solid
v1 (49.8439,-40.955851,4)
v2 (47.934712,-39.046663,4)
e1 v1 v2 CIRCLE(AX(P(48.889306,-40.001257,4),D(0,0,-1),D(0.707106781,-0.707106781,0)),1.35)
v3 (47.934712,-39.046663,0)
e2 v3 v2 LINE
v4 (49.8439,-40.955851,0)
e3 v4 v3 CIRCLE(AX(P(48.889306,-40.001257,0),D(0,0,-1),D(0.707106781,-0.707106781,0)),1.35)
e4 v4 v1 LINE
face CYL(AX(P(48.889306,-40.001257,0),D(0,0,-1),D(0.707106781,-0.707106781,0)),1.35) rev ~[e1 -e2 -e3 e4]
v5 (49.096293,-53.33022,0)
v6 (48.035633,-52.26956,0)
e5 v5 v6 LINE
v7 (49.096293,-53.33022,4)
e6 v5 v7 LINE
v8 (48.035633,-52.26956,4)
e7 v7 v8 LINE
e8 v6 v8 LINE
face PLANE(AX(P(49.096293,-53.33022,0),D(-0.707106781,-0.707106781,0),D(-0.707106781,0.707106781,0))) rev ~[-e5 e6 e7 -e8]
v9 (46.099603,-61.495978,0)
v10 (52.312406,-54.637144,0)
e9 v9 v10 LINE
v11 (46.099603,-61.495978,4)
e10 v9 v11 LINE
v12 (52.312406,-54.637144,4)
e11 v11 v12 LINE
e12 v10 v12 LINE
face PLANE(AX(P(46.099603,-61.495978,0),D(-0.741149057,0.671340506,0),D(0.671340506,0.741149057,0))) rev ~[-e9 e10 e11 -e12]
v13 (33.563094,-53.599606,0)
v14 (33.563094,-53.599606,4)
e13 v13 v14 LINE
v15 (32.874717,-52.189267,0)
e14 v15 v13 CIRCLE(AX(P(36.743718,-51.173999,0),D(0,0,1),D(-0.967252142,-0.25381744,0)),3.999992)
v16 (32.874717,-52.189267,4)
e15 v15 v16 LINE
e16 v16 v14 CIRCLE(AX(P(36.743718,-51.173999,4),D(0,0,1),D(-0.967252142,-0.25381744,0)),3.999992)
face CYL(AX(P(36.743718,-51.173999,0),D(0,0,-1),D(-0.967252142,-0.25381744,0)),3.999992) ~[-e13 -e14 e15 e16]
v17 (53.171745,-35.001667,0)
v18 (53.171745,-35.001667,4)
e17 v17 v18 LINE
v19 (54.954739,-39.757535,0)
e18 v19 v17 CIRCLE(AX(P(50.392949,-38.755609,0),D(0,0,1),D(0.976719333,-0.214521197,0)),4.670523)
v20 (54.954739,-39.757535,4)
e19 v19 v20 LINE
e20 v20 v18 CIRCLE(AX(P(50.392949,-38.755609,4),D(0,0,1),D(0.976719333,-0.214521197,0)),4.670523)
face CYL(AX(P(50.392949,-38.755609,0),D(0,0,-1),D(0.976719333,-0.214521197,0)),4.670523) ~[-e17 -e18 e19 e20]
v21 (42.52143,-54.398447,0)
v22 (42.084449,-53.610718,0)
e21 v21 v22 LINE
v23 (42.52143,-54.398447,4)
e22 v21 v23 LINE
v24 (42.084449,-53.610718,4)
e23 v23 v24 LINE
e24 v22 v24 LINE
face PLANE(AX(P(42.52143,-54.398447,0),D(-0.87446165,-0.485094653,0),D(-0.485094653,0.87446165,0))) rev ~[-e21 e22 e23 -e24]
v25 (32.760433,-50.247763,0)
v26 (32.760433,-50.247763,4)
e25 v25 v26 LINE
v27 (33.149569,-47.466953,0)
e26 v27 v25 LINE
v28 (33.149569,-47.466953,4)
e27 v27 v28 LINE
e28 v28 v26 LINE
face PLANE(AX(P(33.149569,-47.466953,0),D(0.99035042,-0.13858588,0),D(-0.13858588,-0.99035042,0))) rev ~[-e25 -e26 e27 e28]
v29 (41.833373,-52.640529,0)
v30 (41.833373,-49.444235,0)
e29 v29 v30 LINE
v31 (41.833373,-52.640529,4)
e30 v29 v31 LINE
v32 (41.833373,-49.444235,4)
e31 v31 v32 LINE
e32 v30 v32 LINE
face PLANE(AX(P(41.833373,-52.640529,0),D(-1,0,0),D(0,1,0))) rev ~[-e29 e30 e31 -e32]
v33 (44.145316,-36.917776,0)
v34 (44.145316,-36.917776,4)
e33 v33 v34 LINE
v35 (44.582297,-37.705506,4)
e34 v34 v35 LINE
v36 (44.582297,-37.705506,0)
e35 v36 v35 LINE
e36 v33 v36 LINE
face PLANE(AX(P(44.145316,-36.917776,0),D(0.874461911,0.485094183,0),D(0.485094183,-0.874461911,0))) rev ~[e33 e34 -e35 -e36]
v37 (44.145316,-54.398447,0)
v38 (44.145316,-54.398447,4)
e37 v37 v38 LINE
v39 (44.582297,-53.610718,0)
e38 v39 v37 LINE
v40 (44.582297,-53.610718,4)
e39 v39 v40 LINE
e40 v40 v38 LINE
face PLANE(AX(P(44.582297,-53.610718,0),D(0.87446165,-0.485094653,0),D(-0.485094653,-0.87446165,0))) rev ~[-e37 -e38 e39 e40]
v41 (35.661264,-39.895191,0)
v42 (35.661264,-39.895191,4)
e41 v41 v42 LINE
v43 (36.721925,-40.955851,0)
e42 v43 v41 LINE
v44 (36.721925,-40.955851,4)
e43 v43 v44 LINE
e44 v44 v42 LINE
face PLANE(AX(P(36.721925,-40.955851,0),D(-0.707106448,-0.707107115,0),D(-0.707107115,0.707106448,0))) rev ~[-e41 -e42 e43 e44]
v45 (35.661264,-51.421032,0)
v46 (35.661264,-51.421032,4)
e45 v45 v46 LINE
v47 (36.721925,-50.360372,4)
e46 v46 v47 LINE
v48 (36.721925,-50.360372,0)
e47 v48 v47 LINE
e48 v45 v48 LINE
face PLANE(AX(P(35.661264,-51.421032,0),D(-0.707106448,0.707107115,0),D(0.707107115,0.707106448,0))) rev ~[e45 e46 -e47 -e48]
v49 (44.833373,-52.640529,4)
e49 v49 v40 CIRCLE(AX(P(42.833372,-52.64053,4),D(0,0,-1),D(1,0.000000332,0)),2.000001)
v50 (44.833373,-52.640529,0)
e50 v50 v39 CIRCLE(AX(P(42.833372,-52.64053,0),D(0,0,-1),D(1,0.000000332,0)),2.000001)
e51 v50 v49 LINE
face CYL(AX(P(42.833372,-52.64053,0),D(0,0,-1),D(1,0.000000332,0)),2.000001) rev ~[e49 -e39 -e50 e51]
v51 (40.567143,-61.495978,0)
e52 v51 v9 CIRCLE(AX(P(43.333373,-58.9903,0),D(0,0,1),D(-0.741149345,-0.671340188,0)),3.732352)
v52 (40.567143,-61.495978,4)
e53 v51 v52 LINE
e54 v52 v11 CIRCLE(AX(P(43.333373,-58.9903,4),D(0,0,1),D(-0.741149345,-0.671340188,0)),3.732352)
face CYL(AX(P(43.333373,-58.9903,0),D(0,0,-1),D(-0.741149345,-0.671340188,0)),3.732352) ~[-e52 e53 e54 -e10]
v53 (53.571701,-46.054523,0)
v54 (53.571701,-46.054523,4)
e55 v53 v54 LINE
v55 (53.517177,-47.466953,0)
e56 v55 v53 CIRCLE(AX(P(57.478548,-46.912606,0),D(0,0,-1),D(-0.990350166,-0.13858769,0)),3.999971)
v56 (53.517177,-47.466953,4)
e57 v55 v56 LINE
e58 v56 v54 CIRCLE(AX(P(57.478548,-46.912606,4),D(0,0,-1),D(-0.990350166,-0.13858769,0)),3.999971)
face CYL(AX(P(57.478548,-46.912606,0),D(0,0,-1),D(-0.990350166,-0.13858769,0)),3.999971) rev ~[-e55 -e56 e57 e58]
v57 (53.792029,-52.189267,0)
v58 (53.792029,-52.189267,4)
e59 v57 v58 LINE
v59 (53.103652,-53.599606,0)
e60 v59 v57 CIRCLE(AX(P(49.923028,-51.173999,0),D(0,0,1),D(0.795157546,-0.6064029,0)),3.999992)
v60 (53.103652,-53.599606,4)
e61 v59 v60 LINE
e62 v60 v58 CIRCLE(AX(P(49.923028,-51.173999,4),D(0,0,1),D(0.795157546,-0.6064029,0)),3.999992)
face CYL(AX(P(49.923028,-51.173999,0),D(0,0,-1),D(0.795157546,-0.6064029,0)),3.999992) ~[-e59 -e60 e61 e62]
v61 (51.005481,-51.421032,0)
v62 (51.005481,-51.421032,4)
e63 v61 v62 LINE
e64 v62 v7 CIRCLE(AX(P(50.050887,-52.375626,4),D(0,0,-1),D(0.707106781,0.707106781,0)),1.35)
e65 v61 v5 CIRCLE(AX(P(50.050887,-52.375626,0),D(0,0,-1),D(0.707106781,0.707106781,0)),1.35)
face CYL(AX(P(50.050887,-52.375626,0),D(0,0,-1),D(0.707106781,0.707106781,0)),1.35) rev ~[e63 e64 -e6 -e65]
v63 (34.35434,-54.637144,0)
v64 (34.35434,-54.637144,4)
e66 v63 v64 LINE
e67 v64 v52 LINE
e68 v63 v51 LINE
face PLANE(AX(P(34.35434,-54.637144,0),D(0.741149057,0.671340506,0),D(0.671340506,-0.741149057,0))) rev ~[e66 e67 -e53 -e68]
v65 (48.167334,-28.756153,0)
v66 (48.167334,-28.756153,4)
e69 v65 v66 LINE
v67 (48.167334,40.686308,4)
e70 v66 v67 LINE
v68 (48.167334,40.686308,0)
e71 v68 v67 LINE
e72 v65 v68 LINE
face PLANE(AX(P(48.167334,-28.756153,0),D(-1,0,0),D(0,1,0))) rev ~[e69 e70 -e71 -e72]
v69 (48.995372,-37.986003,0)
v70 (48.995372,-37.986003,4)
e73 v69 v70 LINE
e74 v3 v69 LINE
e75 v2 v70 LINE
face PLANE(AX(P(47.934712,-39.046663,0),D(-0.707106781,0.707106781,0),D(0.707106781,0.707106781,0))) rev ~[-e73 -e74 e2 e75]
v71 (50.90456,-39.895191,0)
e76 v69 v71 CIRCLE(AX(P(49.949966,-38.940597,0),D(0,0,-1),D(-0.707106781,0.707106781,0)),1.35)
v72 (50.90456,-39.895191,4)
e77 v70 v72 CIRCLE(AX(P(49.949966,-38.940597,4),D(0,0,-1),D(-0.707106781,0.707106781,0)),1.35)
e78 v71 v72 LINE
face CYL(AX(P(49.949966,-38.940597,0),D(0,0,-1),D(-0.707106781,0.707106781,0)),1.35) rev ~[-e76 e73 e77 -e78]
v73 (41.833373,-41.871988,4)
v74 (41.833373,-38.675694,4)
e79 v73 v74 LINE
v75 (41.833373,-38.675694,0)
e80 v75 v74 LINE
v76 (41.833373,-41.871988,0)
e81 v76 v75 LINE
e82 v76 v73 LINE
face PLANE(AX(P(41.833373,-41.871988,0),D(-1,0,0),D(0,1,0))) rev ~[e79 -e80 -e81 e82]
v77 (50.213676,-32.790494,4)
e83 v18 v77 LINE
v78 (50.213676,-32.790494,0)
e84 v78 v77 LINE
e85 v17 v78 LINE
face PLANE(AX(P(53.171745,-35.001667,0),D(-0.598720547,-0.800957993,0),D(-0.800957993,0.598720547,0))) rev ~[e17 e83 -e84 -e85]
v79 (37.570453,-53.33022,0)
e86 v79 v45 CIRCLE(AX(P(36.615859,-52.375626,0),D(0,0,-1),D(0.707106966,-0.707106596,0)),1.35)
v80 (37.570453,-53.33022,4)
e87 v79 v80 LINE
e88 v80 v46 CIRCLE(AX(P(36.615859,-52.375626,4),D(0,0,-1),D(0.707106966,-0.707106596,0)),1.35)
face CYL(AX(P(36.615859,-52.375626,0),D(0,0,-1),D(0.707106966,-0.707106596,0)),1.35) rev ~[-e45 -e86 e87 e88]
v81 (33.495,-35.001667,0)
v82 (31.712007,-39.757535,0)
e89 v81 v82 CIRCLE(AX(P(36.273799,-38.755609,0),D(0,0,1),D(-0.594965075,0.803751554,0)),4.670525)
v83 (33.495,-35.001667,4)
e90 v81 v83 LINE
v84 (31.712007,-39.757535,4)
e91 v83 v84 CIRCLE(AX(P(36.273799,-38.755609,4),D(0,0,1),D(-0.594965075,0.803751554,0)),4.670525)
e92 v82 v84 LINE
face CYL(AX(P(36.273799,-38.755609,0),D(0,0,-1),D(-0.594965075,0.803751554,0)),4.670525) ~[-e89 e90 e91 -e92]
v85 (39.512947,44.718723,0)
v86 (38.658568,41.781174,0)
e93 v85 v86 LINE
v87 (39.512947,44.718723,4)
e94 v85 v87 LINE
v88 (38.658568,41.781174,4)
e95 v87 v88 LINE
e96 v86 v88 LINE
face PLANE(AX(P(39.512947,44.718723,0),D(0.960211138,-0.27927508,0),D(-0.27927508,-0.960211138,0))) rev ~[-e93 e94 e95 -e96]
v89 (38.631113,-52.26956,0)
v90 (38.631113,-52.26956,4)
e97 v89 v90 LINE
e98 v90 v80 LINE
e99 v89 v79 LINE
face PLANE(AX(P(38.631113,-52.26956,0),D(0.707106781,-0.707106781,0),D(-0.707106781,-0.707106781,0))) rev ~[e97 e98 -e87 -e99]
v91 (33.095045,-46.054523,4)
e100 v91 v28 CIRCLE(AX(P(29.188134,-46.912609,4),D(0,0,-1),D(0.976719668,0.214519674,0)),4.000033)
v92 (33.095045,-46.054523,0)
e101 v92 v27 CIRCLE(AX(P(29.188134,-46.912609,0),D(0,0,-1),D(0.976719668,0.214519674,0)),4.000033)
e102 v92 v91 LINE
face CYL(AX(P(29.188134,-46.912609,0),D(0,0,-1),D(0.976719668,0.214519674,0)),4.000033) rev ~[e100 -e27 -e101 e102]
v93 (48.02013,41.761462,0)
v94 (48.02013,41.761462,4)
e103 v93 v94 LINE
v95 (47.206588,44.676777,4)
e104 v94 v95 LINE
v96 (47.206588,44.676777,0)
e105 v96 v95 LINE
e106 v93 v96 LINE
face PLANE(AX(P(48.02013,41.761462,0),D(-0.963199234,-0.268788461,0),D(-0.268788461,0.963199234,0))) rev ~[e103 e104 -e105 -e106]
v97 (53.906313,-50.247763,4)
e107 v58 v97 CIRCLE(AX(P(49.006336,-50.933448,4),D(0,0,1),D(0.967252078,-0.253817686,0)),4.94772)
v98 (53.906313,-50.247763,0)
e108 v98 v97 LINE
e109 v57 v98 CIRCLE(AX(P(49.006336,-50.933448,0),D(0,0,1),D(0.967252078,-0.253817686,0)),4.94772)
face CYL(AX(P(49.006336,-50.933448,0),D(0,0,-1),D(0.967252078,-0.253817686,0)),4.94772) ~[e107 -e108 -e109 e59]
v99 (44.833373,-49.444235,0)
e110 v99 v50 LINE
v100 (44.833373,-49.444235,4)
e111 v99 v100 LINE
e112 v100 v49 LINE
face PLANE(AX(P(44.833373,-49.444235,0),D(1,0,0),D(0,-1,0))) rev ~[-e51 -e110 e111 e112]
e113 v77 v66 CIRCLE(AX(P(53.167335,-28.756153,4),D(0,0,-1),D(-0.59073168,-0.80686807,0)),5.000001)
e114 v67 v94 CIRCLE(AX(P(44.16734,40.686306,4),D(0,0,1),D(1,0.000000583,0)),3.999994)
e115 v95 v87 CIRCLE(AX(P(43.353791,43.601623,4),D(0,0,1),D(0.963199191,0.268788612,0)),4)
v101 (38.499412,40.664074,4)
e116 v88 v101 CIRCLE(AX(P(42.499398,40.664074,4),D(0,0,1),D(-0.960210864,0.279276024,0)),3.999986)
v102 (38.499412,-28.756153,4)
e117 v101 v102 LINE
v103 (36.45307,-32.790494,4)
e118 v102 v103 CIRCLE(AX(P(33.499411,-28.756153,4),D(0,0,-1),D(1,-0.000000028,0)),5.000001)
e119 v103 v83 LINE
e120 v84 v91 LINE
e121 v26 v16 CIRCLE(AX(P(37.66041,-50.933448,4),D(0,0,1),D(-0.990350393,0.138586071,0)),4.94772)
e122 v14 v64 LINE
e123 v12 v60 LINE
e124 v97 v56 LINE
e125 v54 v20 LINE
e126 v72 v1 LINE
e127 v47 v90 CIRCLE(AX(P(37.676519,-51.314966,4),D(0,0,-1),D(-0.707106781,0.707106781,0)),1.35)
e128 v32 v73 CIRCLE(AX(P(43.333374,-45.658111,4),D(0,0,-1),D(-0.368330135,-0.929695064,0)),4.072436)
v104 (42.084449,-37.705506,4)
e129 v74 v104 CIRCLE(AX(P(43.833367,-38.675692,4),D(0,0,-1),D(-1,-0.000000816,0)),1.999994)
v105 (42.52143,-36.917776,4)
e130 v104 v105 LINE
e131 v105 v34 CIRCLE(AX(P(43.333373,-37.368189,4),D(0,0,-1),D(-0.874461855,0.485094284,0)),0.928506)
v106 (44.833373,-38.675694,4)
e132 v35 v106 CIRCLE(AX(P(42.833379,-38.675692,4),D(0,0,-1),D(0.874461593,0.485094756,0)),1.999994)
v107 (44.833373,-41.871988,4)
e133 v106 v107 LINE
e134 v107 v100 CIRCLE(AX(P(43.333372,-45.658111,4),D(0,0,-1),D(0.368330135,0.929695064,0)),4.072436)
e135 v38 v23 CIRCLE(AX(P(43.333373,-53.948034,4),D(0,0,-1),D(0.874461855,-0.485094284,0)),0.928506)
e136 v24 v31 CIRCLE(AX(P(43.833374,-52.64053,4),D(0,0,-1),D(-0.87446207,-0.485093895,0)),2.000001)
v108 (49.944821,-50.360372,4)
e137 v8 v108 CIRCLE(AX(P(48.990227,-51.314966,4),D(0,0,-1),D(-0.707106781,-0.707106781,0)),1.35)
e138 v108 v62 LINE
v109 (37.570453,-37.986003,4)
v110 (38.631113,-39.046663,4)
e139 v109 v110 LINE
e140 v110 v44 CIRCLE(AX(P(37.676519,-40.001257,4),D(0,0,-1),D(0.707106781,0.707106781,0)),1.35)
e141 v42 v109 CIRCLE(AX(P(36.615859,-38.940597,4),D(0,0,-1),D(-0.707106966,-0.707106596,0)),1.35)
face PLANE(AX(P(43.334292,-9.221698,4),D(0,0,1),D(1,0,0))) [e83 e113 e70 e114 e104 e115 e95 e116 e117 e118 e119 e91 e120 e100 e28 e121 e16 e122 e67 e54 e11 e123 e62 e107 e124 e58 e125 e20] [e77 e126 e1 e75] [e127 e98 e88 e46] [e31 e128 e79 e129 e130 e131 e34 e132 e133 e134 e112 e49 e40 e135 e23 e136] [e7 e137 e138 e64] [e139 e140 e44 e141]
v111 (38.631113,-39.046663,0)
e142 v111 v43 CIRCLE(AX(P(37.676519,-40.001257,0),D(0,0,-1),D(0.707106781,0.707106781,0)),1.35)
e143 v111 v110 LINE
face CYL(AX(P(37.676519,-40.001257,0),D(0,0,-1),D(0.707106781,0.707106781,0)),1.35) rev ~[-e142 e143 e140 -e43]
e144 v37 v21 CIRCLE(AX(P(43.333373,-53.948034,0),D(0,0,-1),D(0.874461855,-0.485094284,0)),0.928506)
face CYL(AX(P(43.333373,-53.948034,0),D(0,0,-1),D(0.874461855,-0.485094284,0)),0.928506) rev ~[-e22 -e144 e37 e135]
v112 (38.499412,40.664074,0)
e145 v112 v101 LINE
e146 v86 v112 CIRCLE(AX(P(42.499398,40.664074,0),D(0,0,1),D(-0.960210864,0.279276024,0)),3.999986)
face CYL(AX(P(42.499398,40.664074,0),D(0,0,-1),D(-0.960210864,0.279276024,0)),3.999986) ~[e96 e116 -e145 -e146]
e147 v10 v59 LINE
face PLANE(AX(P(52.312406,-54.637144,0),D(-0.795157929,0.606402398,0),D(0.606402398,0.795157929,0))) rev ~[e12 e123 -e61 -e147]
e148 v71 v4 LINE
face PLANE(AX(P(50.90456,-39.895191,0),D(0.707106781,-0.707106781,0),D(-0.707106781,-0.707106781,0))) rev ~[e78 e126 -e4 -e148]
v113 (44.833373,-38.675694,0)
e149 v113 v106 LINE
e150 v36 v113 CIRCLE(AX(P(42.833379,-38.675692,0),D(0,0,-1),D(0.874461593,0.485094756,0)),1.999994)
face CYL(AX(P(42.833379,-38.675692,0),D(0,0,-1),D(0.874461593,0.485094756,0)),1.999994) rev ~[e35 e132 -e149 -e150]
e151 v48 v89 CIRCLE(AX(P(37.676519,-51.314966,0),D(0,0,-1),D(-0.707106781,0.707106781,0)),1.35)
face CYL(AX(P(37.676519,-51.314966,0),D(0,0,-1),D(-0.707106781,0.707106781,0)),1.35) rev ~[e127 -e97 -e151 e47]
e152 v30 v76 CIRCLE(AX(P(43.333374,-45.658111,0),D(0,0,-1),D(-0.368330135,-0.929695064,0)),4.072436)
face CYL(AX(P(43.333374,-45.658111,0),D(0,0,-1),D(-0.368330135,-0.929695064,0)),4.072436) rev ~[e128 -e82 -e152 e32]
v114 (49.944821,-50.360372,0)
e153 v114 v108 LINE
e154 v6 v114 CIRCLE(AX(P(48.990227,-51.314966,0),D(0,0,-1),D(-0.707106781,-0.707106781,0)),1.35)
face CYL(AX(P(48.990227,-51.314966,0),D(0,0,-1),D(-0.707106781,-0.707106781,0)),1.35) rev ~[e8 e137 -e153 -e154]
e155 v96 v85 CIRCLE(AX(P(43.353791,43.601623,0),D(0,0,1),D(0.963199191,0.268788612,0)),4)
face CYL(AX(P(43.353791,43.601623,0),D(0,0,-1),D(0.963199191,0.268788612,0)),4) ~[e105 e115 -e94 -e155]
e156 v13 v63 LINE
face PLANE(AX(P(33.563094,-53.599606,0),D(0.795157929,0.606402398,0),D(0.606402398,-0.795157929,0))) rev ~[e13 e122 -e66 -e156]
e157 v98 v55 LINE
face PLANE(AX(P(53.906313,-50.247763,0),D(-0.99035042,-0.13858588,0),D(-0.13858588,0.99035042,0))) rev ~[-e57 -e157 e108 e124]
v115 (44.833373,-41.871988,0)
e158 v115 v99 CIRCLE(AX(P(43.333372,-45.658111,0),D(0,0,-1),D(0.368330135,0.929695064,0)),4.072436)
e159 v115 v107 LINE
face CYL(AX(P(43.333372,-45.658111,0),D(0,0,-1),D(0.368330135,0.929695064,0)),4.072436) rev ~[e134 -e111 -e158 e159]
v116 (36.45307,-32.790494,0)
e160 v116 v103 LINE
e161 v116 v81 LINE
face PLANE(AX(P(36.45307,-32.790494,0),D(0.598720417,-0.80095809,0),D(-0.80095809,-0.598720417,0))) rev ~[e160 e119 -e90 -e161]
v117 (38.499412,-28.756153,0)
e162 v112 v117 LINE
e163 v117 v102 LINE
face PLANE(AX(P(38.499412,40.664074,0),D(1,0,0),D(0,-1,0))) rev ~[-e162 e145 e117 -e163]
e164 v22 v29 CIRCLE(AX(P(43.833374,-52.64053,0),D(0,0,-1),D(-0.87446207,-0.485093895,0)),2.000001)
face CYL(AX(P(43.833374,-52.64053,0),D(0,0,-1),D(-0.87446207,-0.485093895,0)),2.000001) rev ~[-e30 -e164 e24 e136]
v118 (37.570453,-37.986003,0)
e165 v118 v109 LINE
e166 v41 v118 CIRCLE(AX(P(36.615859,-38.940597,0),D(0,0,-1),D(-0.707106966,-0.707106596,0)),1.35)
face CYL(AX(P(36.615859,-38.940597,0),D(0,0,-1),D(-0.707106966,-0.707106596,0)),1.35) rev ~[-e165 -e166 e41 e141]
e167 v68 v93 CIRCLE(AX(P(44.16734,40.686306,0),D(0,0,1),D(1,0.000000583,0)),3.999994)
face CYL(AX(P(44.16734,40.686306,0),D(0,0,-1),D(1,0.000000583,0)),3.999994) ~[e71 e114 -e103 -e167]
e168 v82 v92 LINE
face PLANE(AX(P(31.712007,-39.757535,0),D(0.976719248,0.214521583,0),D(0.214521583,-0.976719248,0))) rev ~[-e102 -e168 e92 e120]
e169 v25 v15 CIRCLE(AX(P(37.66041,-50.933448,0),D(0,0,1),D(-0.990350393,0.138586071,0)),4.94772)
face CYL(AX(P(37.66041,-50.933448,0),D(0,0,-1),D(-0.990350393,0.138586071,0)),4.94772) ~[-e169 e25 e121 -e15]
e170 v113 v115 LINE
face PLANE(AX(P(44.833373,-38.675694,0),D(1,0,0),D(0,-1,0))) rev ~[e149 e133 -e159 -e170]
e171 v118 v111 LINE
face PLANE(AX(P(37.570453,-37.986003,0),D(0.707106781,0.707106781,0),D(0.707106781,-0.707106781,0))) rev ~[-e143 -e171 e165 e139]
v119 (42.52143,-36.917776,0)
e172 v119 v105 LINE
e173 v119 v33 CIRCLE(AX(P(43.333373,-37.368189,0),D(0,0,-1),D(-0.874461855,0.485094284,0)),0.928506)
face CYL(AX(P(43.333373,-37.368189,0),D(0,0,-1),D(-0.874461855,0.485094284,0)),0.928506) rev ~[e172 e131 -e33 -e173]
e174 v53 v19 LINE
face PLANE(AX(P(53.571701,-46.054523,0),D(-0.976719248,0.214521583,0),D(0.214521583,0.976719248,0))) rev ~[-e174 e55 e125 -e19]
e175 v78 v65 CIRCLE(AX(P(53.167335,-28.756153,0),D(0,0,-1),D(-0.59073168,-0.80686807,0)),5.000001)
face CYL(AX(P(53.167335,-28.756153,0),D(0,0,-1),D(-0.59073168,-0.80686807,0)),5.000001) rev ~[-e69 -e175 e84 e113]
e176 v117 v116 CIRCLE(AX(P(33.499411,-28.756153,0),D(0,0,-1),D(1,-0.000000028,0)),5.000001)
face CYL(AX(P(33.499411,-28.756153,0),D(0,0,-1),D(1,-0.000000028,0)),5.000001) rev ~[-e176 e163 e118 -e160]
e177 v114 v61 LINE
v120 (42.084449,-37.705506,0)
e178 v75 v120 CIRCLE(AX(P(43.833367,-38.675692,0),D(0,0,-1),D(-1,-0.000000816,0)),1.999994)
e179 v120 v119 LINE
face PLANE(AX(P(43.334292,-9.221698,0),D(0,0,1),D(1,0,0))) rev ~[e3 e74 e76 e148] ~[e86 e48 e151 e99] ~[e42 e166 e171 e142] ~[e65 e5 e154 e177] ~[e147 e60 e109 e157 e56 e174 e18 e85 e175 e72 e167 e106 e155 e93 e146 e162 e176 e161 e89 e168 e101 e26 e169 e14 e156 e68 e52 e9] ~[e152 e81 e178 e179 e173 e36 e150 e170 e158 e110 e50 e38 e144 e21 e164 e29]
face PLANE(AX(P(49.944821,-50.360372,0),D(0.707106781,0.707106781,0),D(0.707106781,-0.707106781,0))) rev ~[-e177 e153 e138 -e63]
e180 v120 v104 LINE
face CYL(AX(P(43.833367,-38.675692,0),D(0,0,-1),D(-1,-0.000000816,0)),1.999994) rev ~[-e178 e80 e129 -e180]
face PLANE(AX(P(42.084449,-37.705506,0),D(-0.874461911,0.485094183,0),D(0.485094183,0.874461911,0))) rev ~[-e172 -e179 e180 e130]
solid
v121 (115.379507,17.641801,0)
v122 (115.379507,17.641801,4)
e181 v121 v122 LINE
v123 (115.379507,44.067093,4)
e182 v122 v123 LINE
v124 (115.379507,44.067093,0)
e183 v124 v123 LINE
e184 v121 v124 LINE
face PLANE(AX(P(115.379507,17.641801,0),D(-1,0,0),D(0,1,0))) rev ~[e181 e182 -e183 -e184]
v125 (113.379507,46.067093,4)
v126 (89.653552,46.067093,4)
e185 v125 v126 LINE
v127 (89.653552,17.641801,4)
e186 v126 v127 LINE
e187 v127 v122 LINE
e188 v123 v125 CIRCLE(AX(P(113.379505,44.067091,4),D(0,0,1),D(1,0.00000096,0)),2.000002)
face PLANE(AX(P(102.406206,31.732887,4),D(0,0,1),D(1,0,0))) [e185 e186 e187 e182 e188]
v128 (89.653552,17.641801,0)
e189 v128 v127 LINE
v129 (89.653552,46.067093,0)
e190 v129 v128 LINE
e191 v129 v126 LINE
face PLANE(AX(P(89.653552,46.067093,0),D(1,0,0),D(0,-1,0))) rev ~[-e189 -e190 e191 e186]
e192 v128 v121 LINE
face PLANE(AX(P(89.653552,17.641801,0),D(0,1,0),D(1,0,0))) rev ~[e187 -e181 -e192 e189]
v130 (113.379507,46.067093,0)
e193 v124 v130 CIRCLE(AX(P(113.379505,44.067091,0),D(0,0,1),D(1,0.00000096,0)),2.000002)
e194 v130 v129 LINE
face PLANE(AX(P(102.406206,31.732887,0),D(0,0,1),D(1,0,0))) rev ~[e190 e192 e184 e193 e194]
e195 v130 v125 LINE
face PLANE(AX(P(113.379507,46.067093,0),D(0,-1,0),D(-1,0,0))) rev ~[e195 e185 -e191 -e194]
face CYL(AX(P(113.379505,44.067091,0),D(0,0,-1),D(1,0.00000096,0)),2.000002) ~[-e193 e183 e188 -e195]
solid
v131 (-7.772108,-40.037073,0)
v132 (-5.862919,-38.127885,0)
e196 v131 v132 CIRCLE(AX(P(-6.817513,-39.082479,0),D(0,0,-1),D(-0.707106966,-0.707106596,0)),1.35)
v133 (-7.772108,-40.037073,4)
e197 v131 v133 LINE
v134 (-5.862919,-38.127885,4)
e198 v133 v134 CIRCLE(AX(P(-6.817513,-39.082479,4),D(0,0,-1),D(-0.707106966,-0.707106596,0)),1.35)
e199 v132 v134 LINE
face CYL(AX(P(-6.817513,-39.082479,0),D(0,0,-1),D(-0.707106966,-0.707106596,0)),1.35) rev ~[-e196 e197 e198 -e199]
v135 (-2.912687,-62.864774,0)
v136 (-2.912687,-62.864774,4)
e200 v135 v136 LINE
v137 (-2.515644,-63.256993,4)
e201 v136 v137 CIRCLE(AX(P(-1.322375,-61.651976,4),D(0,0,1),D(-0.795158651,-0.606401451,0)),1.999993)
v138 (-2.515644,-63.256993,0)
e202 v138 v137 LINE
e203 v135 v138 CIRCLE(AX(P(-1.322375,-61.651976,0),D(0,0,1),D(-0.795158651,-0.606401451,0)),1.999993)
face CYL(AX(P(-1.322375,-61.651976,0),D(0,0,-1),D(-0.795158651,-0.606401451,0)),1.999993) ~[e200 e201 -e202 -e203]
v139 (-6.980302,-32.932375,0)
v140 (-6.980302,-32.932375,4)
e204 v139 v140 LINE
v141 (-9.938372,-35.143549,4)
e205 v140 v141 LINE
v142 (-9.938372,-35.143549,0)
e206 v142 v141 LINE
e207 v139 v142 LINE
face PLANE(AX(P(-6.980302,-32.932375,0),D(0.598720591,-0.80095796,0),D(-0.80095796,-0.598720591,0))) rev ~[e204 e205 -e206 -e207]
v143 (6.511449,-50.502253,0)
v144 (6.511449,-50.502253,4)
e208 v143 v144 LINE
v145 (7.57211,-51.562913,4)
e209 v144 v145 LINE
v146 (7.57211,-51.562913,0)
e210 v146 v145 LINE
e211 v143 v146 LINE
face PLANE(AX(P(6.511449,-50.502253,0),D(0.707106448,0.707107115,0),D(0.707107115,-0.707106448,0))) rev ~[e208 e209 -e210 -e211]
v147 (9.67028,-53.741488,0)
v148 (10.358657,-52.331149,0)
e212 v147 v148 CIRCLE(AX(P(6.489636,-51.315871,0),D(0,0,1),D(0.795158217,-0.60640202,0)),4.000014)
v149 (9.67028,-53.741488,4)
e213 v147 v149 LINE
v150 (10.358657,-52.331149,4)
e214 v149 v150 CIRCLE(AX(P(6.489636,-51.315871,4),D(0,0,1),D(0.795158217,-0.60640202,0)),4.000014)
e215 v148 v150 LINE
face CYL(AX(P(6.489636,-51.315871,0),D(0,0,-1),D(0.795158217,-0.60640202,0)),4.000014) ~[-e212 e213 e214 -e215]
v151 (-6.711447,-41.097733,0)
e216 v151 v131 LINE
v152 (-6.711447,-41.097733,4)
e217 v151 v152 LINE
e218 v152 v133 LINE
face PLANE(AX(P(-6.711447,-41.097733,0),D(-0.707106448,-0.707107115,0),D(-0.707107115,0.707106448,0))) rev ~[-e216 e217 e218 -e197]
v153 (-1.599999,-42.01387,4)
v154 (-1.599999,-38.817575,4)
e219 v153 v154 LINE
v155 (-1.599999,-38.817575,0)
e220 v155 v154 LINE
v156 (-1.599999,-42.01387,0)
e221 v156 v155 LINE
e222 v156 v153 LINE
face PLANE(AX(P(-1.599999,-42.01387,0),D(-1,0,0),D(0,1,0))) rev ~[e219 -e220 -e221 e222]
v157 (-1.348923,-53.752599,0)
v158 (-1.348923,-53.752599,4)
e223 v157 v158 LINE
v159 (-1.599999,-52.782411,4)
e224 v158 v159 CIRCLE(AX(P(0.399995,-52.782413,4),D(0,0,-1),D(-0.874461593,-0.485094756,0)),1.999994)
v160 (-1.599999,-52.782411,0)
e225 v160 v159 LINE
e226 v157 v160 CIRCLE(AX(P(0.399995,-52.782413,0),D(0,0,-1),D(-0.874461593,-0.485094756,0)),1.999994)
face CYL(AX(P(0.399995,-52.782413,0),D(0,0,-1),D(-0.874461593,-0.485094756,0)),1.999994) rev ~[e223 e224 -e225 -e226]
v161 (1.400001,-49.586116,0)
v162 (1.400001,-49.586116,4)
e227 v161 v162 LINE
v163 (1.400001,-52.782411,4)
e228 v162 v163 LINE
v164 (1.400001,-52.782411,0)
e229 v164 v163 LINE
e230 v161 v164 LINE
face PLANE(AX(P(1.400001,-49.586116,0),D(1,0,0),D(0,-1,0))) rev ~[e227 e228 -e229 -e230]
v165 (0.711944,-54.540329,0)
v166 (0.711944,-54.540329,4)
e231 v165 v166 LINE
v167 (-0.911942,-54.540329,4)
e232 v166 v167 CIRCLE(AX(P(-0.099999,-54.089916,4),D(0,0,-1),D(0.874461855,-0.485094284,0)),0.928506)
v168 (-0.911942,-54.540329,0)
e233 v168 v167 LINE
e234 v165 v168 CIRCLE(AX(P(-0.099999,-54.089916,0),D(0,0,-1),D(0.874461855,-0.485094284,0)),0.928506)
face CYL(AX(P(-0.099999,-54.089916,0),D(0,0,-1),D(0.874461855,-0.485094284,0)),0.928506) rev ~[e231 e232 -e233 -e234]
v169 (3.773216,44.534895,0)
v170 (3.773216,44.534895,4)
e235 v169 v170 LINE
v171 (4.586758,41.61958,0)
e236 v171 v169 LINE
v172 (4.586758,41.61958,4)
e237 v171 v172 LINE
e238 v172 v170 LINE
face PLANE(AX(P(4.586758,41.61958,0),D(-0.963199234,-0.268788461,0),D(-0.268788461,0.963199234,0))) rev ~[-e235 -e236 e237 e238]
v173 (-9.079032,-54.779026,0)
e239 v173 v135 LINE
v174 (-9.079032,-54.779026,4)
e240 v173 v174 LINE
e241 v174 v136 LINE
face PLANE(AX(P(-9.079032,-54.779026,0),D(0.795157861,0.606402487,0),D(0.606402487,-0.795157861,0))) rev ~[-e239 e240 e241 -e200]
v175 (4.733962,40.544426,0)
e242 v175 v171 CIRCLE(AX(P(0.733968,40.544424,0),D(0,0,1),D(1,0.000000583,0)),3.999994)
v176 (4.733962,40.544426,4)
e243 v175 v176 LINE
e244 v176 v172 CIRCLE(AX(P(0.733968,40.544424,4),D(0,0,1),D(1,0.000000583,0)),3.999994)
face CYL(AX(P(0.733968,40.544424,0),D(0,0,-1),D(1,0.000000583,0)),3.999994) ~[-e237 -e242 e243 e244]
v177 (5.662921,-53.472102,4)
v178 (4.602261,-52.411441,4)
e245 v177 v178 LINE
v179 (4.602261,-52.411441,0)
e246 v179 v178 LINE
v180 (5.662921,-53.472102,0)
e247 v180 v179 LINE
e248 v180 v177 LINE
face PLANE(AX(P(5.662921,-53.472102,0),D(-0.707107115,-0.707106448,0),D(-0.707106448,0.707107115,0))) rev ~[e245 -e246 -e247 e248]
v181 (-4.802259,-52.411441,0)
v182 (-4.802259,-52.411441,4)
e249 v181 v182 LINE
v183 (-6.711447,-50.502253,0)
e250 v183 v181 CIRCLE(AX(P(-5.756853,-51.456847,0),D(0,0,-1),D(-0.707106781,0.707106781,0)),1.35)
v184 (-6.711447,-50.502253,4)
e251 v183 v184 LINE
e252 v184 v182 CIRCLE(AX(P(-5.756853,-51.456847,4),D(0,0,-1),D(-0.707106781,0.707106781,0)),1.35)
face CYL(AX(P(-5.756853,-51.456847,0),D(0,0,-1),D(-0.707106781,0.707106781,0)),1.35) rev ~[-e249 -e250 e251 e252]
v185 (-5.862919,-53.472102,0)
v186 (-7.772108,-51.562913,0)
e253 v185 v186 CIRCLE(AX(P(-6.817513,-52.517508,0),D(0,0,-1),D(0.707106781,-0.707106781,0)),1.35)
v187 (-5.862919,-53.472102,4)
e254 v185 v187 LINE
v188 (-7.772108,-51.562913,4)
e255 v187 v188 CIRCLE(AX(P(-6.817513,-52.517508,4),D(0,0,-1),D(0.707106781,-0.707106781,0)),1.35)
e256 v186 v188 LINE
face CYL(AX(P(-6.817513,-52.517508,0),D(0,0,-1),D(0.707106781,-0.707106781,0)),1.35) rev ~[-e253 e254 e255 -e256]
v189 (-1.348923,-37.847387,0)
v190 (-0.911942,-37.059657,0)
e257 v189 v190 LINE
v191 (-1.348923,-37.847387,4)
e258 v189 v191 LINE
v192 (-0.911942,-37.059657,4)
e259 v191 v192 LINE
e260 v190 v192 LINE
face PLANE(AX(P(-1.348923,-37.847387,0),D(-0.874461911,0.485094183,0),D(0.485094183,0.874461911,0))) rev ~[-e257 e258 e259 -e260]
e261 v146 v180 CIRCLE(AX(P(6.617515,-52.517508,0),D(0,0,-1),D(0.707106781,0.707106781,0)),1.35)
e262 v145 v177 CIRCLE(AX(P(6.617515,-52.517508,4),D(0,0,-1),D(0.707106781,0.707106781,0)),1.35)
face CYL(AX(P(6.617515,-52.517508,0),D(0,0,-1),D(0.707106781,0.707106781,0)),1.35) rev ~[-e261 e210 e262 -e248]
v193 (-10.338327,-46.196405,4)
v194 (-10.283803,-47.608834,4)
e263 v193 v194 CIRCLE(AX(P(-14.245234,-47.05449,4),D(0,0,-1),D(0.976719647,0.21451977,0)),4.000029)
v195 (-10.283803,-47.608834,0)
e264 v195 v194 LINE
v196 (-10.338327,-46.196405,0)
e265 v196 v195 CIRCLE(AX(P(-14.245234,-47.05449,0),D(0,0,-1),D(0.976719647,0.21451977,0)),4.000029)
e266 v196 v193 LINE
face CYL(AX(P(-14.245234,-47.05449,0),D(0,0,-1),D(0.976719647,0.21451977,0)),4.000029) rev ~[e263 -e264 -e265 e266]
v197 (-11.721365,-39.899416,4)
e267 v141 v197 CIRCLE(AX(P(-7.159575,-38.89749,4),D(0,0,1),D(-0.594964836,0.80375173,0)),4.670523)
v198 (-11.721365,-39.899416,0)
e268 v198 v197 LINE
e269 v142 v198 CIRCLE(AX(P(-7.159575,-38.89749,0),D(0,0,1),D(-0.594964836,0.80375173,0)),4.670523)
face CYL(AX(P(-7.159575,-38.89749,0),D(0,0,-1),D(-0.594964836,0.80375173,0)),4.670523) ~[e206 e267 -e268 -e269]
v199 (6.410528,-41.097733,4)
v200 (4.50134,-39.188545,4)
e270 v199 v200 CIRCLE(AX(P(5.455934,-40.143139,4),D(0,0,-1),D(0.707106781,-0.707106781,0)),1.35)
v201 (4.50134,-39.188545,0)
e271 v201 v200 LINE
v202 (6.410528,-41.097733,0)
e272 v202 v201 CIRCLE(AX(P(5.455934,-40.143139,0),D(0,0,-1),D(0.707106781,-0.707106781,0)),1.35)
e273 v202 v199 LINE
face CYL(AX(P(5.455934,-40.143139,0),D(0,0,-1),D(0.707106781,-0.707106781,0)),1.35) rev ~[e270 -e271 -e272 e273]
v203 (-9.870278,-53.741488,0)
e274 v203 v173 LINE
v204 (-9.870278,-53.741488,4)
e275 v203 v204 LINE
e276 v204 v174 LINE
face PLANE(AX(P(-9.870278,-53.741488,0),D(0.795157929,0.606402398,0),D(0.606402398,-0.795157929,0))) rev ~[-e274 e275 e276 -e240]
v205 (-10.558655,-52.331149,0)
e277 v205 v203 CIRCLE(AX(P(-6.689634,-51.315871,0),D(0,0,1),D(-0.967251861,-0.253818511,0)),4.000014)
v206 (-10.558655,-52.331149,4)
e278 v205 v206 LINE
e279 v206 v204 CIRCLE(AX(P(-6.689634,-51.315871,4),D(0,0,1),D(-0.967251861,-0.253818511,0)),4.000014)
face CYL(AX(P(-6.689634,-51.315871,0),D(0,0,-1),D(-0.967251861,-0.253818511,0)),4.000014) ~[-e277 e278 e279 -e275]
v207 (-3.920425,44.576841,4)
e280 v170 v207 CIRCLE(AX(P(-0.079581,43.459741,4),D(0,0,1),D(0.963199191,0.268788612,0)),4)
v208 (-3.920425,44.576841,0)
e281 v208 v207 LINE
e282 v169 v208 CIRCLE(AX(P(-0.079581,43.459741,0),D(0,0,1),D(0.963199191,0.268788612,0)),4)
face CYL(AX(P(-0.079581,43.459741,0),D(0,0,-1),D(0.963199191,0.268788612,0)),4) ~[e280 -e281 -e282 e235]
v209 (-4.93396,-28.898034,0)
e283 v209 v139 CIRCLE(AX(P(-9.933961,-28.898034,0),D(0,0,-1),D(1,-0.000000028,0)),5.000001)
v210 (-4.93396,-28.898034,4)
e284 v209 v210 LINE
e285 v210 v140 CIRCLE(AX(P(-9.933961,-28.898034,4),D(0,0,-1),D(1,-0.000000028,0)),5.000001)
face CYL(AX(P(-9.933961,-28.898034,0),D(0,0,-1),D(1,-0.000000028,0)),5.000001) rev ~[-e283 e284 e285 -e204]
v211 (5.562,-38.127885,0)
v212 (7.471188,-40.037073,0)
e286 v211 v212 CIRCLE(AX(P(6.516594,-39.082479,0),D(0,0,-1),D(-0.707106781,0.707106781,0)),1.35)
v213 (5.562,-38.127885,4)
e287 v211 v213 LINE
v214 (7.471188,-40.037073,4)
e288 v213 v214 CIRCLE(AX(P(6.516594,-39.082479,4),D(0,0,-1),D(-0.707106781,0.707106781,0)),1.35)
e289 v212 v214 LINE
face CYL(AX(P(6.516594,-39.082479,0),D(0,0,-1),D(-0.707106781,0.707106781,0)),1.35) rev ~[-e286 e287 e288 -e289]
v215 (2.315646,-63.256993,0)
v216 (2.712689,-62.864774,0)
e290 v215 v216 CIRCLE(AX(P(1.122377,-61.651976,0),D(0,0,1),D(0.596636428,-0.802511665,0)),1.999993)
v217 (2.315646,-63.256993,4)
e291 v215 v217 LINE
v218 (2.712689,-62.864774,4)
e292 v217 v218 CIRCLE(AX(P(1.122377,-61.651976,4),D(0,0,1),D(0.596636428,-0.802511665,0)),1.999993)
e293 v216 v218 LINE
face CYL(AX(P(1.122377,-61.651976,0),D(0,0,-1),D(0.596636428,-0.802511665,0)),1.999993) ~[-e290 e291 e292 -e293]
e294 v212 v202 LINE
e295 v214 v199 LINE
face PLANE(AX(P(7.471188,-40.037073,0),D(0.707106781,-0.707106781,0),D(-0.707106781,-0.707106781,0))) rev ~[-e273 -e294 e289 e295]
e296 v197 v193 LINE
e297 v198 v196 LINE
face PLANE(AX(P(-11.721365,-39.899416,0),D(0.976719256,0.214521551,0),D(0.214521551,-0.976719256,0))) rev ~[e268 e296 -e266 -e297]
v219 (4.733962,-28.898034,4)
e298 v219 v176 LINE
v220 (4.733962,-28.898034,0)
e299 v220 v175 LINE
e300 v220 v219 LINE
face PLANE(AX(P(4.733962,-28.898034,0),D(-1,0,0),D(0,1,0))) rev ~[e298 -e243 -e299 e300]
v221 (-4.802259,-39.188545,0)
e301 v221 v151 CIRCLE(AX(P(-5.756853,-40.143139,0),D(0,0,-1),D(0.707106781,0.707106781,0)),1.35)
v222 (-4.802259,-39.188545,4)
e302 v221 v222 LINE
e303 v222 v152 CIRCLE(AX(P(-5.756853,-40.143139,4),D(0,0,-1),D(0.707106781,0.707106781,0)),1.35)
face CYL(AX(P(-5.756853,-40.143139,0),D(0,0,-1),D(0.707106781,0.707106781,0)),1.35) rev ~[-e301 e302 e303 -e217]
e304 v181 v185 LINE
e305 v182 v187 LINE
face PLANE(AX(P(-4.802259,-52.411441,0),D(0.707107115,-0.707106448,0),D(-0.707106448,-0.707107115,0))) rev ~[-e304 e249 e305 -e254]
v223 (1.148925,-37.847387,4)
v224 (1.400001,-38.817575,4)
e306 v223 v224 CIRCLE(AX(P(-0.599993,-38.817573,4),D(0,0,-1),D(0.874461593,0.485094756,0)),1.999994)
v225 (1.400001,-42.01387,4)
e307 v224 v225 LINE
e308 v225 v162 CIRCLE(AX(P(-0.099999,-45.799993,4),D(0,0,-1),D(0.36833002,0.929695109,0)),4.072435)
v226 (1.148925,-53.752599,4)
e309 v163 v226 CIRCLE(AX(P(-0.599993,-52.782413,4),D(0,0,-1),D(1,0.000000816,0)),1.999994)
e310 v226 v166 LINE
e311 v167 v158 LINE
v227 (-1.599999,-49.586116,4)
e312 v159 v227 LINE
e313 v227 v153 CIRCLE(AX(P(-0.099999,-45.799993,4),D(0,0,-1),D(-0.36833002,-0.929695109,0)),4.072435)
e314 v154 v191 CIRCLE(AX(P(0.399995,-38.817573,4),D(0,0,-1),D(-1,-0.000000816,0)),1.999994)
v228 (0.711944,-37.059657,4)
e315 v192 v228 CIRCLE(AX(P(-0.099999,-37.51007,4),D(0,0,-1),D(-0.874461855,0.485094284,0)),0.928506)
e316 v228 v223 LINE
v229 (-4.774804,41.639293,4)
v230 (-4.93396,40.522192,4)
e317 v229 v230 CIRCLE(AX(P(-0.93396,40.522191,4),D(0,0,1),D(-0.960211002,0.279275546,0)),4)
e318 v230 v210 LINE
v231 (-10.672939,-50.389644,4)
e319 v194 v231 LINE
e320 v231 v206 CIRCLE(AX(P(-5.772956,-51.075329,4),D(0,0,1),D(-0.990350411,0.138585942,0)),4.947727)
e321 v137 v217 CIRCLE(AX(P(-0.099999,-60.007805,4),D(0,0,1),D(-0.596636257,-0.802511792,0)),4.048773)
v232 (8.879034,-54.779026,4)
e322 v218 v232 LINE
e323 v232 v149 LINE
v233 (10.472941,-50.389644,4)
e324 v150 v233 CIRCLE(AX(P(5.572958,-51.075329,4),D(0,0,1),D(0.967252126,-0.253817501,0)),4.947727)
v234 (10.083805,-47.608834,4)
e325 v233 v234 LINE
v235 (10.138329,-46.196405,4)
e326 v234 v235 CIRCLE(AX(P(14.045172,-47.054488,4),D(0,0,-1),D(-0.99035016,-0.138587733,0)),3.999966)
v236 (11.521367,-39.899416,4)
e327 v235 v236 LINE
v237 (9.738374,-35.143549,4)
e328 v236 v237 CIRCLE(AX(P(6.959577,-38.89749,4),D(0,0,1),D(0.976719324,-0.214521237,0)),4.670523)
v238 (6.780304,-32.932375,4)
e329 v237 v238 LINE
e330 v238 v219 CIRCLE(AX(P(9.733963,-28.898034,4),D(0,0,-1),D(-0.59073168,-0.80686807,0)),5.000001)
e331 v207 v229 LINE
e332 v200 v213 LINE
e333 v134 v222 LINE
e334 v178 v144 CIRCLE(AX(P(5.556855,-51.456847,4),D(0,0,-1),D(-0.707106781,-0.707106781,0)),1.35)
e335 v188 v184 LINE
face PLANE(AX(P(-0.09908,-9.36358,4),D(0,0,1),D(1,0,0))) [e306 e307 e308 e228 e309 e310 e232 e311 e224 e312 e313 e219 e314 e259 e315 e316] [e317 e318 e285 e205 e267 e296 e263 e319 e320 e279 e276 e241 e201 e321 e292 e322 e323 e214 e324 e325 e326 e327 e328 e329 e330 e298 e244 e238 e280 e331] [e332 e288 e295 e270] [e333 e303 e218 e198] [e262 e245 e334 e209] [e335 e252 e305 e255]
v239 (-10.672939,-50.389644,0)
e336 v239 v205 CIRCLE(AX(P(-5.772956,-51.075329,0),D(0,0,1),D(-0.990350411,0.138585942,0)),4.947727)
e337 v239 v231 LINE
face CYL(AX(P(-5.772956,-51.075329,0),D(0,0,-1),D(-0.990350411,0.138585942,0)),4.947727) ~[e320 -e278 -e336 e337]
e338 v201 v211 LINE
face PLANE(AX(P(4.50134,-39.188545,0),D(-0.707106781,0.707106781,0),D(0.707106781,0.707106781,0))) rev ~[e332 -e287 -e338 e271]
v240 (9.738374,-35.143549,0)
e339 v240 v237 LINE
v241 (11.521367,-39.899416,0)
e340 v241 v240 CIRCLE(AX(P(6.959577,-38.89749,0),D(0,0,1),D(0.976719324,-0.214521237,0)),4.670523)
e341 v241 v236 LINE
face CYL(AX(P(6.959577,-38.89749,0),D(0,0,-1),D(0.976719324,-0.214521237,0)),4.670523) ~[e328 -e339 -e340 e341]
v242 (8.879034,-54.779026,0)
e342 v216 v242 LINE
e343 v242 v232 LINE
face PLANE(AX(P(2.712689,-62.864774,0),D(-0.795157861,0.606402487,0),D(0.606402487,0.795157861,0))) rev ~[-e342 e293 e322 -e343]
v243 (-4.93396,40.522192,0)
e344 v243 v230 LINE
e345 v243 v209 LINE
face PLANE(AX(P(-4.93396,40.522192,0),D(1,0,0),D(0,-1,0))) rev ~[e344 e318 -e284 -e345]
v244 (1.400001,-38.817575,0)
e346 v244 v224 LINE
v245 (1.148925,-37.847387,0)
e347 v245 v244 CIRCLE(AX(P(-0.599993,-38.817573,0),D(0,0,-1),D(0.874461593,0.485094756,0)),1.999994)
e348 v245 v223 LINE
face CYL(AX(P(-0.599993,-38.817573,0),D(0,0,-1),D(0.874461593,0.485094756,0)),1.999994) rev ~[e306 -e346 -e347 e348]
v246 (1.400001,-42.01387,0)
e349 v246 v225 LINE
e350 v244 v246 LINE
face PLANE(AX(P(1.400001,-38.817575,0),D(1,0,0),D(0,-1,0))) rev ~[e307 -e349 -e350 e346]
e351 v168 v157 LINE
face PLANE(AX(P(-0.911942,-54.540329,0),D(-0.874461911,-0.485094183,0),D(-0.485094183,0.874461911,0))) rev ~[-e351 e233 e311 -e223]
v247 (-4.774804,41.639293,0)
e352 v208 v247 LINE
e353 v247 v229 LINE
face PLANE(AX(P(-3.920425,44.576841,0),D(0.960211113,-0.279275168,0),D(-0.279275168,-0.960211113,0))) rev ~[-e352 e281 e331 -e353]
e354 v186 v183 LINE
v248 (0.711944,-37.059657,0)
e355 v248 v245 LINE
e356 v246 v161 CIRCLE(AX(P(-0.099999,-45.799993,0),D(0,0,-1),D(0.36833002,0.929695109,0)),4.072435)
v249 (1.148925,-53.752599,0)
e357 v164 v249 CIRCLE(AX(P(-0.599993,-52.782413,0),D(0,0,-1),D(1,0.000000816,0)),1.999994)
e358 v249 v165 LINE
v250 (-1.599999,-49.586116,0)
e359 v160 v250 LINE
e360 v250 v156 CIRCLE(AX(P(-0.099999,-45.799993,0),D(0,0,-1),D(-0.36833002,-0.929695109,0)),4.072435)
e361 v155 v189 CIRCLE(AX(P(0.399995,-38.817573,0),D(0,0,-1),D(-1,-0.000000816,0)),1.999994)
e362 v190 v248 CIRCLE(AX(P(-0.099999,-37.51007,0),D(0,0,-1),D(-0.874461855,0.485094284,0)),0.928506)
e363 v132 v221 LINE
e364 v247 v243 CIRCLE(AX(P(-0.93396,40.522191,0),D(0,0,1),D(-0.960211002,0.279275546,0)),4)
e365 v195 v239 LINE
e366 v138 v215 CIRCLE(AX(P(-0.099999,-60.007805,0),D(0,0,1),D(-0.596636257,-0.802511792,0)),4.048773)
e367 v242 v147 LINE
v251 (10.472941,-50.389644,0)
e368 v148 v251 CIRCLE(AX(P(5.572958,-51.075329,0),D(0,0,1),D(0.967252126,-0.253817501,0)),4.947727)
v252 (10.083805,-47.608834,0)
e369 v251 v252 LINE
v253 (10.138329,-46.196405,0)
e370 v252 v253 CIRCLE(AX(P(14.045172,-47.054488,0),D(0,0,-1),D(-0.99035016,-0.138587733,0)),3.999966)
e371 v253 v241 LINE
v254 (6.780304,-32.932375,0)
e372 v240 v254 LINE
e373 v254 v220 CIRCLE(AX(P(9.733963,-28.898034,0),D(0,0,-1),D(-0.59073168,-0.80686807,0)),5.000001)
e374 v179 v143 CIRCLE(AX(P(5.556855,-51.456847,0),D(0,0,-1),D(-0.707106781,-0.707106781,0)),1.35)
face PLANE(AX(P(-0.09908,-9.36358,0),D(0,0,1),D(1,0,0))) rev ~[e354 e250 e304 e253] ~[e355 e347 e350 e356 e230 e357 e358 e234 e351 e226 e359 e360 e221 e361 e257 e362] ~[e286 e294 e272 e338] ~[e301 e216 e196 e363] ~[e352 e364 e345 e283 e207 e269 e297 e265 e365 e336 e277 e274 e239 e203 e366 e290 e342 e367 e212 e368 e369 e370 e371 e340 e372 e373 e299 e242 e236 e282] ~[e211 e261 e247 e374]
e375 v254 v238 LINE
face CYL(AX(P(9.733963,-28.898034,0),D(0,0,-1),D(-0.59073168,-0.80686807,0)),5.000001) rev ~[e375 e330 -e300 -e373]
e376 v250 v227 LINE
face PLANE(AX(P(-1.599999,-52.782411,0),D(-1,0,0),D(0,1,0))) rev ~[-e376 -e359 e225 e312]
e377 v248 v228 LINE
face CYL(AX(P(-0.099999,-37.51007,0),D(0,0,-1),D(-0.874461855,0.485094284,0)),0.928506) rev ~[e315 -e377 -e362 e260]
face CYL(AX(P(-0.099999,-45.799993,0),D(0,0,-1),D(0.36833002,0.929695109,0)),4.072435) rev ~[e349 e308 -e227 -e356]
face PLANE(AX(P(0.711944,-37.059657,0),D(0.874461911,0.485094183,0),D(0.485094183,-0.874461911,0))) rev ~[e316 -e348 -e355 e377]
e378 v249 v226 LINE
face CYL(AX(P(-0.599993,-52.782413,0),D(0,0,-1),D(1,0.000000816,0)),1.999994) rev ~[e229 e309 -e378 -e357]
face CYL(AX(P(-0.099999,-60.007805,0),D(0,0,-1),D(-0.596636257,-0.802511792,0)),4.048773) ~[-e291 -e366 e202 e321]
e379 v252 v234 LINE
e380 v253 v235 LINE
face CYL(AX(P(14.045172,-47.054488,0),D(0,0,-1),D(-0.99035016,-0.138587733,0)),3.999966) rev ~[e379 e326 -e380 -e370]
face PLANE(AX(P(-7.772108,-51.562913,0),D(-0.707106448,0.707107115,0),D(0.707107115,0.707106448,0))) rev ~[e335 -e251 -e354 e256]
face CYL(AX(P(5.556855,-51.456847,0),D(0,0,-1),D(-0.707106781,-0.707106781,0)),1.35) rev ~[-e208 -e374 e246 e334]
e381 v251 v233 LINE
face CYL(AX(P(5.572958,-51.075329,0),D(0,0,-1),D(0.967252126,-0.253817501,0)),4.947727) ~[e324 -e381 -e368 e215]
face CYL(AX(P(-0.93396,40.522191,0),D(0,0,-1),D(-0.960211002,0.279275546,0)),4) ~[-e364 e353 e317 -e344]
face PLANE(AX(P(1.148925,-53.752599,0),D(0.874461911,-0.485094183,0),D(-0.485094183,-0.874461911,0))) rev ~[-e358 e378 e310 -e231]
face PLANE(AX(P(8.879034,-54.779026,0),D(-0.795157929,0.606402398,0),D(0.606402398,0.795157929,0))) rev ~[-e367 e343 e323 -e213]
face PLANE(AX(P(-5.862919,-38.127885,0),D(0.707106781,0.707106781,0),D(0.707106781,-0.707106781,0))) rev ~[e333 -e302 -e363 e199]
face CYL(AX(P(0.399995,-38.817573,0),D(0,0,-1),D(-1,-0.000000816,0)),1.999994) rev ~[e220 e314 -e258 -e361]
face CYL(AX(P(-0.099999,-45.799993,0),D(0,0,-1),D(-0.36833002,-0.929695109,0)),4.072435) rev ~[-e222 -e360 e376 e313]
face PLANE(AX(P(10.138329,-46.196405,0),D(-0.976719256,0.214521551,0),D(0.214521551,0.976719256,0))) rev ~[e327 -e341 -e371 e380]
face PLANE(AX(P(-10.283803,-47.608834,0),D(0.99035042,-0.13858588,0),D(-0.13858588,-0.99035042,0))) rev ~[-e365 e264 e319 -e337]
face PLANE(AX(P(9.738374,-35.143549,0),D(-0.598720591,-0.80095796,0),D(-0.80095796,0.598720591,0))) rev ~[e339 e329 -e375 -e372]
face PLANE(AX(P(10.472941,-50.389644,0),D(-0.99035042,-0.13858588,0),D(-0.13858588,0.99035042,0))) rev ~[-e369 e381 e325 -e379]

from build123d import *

# Parameters (mm, degrees)
F1_DEPTH = 4


with BuildPart() as f1:
    # F0 (on Top) → F1 (new body)
    with BuildSketch(Plane.XY):
        with BuildLine():
            ThreePointArc((-10.558655, -52.331149), (-10.284312, -53.070409), (-9.870278, -53.741488))
            Line((-9.870278, -53.741488), (-9.079032, -54.779026))
            Line((-9.079032, -54.779026), (-2.866229, -61.63786))
            ThreePointArc((-2.866229, -61.63786), (-0.099999, -62.864533), (2.666231, -61.63786))
            Line((2.666231, -61.63786), (8.879034, -54.779026))
            Line((8.879034, -54.779026), (9.67028, -53.741488))
            ThreePointArc((9.67028, -53.741488), (10.084314, -53.070409), (10.358657, -52.331149))
            ThreePointArc((10.358657, -52.331149), (10.512135, -51.366067), (10.472941, -50.389644))
            Line((10.472941, -50.389644), (10.083805, -47.608834))
            ThreePointArc((10.083805, -47.608834), (10.048183, -46.900192), (10.138329, -46.196405))
            Line((10.138329, -46.196405), (11.521367, -39.899416))
            ThreePointArc((11.521367, -39.899416), (11.332862, -37.257928), (9.738374, -35.143549))
            Line((9.738374, -35.143549), (6.780304, -32.932375))
            ThreePointArc((6.780304, -32.932375), (5.274798, -31.15986), (4.733962, -28.898034))
            Line((4.733962, -28.898034), (4.733962, -28.158009))
            Line((4.733962, -28.158009), (4.733962, -23.90792))
            Line((4.733962, -23.90792), (4.733962, 40.544426))
            ThreePointArc((4.733962, 40.544426), (4.69699, 41.087018), (4.586758, 41.61958))
            Line((4.586758, 41.61958), (3.773216, 44.534895))
            ThreePointArc((3.773216, 44.534895), (-0.057773, 47.459681), (-3.920425, 44.576841))
            Line((-3.920425, 44.576841), (-4.774804, 41.639293))
            ThreePointArc((-4.774804, 41.639293), (-4.893971, 41.086383), (-4.93396, 40.522192))
            Line((-4.93396, 40.522192), (-4.93396, -23.90792))
            Line((-4.93396, -23.90792), (-4.93396, -28.158009))
            Line((-4.93396, -28.158009), (-4.93396, -28.898034))
            ThreePointArc((-4.93396, -28.898034), (-5.474796, -31.15986), (-6.980302, -32.932375))
            Line((-6.980302, -32.932375), (-9.938372, -35.143549))
            ThreePointArc((-9.938372, -35.143549), (-11.53286, -37.257928), (-11.721365, -39.899416))
            Line((-11.721365, -39.899416), (-10.338327, -46.196405))
            ThreePointArc((-10.338327, -46.196405), (-10.248182, -46.900192), (-10.283803, -47.608834))
            Line((-10.283803, -47.608834), (-10.672939, -50.389644))
            ThreePointArc((-10.672939, -50.389644), (-10.712133, -51.366067), (-10.558655, -52.331149))
        make_face()
        with BuildLine():
            ThreePointArc((-6.711447, -50.502253), (-4.802259, -50.502253), (-4.802259, -52.411441))
            Line((-4.802259, -52.411441), (-5.862919, -53.472102))
            ThreePointArc((-5.862919, -53.472102), (-7.772108, -53.472102), (-7.772108, -51.562913))
            Line((-7.772108, -51.562913), (-6.711447, -50.502253))
        make_face(mode=Mode.SUBTRACT)
        with BuildLine():
            Line((5.662921, -53.472102), (4.602261, -52.411441))
            ThreePointArc((4.602261, -52.411441), (4.602261, -50.502253), (6.511449, -50.502253))
            Line((6.511449, -50.502253), (7.57211, -51.562913))
            ThreePointArc((7.57211, -51.562913), (7.57211, -53.472102), (5.662921, -53.472102))
        make_face(mode=Mode.SUBTRACT)
        with BuildLine():
            Line((1.400001, -49.586116), (1.400001, -52.782411))
            ThreePointArc((1.400001, -52.782411), (1.336215, -53.283486), (1.148925, -53.752599))
            Line((1.148925, -53.752599), (0.711944, -54.540329))
            ThreePointArc((0.711944, -54.540329), (-0.099999, -55.018422), (-0.911942, -54.540329))
            Line((-0.911942, -54.540329), (-1.348923, -53.752599))
            ThreePointArc((-1.348923, -53.752599), (-1.536213, -53.283486), (-1.599999, -52.782411))
            Line((-1.599999, -52.782411), (-1.599999, -49.586116))
            ThreePointArc((-1.599999, -49.586116), (-4.172434, -45.799993), (-1.599999, -42.01387))
            Line((-1.599999, -42.01387), (-1.599999, -38.817575))
            ThreePointArc((-1.599999, -38.817575), (-1.536213, -38.3165), (-1.348923, -37.847387))
            Line((-1.348923, -37.847387), (-0.911942, -37.059657))
            ThreePointArc((-0.911942, -37.059657), (-0.099999, -36.581564), (0.711944, -37.059657))
            Line((0.711944, -37.059657), (1.148925, -37.847387))
            ThreePointArc((1.148925, -37.847387), (1.336215, -38.3165), (1.400001, -38.817575))
            Line((1.400001, -38.817575), (1.400001, -42.01387))
            ThreePointArc((1.400001, -42.01387), (3.972436, -45.799993), (1.400001, -49.586116))
        make_face(mode=Mode.SUBTRACT)
        with BuildLine():
            ThreePointArc((-4.802259, -39.188545), (-4.802259, -41.097733), (-6.711447, -41.097733))
            Line((-6.711447, -41.097733), (-7.772108, -40.037073))
            ThreePointArc((-7.772108, -40.037073), (-7.772108, -38.127885), (-5.862919, -38.127885))
            Line((-5.862919, -38.127885), (-4.802259, -39.188545))
        make_face(mode=Mode.SUBTRACT)
        with BuildLine():
            Line((7.471188, -40.037073), (6.410528, -41.097733))
            ThreePointArc((6.410528, -41.097733), (4.50134, -41.097733), (4.50134, -39.188545))
            Line((4.50134, -39.188545), (5.562, -38.127885))
            ThreePointArc((5.562, -38.127885), (7.471188, -38.127885), (7.471188, -40.037073))
        make_face(mode=Mode.SUBTRACT)
        with BuildLine():
            Line((-2.866229, -61.63786), (-9.079032, -54.779026))
            Line((-9.079032, -54.779026), (-2.912687, -62.864774))
            ThreePointArc((-2.912687, -62.864774), (-2.727914, -63.074801), (-2.515644, -63.256993))
            ThreePointArc((-2.515644, -63.256993), (-0.099999, -64.056578), (2.315646, -63.256993))
            ThreePointArc((2.315646, -63.256993), (2.527916, -63.074801), (2.712689, -62.864774))
            Line((2.712689, -62.864774), (8.879034, -54.779026))
            Line((8.879034, -54.779026), (2.666231, -61.63786))
            ThreePointArc((2.666231, -61.63786), (-0.099999, -62.864533), (-2.866229, -61.63786))
        make_face()
        with BuildLine():
            ThreePointArc((32.874717, -52.189267), (33.14906, -52.928528), (33.563094, -53.599606))
            Line((33.563094, -53.599606), (34.35434, -54.637144))
            Line((34.35434, -54.637144), (40.567143, -61.495978))
            ThreePointArc((40.567143, -61.495978), (43.333373, -62.722652), (46.099603, -61.495978))
            Line((46.099603, -61.495978), (52.312406, -54.637144))
            Line((52.312406, -54.637144), (53.103652, -53.599606))
            ThreePointArc((53.103652, -53.599606), (53.517686, -52.928528), (53.792029, -52.189267))
            ThreePointArc((53.792029, -52.189267), (53.945507, -51.224186), (53.906313, -50.247763))
            Line((53.906313, -50.247763), (53.517177, -47.466953))
            ThreePointArc((53.517177, -47.466953), (53.481555, -46.75831), (53.571701, -46.054523))
            Line((53.571701, -46.054523), (54.954739, -39.757535))
            ThreePointArc((54.954739, -39.757535), (54.766234, -37.116047), (53.171745, -35.001667))
            Line((53.171745, -35.001667), (50.213676, -32.790494))
            ThreePointArc((50.213676, -32.790494), (48.70817, -31.017979), (48.167334, -28.756153))
            Line((48.167334, -28.756153), (48.167334, -28.016128))
            Line((48.167334, -28.016128), (48.167334, -23.766038))
            Line((48.167334, -23.766038), (48.167334, 40.686308))
            ThreePointArc((48.167334, 40.686308), (48.130362, 41.2289), (48.02013, 41.761462))
            Line((48.02013, 41.761462), (47.206588, 44.676777))
            ThreePointArc((47.206588, 44.676777), (43.375599, 47.601563), (39.512947, 44.718723))
            Line((39.512947, 44.718723), (38.658568, 41.781174))
            ThreePointArc((38.658568, 41.781174), (38.539401, 41.228265), (38.499412, 40.664074))
            Line((38.499412, 40.664074), (38.499412, -23.766038))
            Line((38.499412, -23.766038), (38.499412, -28.016128))
            Line((38.499412, -28.016128), (38.499412, -28.756153))
            ThreePointArc((38.499412, -28.756153), (37.958576, -31.017979), (36.45307, -32.790494))
            Line((36.45307, -32.790494), (33.495, -35.001667))
            ThreePointArc((33.495, -35.001667), (31.900512, -37.116047), (31.712007, -39.757535))
            Line((31.712007, -39.757535), (33.095045, -46.054523))
            ThreePointArc((33.095045, -46.054523), (33.18519, -46.75831), (33.149569, -47.466953))
            Line((33.149569, -47.466953), (32.760433, -50.247763))
            ThreePointArc((32.760433, -50.247763), (32.721239, -51.224186), (32.874717, -52.189267))
        make_face()
        with BuildLine():
            ThreePointArc((36.721925, -50.360372), (38.631113, -50.360372), (38.631113, -52.26956))
            Line((38.631113, -52.26956), (37.570453, -53.33022))
            ThreePointArc((37.570453, -53.33022), (35.661264, -53.33022), (35.661264, -51.421032))
            Line((35.661264, -51.421032), (36.721925, -50.360372))
        make_face(mode=Mode.SUBTRACT)
        with BuildLine():
            Line((49.096293, -53.33022), (48.035633, -52.26956))
            ThreePointArc((48.035633, -52.26956), (48.035633, -50.360372), (49.944821, -50.360372))
            Line((49.944821, -50.360372), (51.005481, -51.421032))
            ThreePointArc((51.005481, -51.421032), (51.005481, -53.33022), (49.096293, -53.33022))
        make_face(mode=Mode.SUBTRACT)
        with BuildLine():
            Line((44.833373, -49.444235), (44.833373, -52.640529))
            ThreePointArc((44.833373, -52.640529), (44.769587, -53.141604), (44.582297, -53.610718))
            Line((44.582297, -53.610718), (44.145316, -54.398447))
            ThreePointArc((44.145316, -54.398447), (43.333373, -54.87654), (42.52143, -54.398447))
            Line((42.52143, -54.398447), (42.084449, -53.610718))
            ThreePointArc((42.084449, -53.610718), (41.897159, -53.141604), (41.833373, -52.640529))
            Line((41.833373, -52.640529), (41.833373, -49.444235))
            ThreePointArc((41.833373, -49.444235), (39.260938, -45.658112), (41.833373, -41.871988))
            Line((41.833373, -41.871988), (41.833373, -38.675694))
            ThreePointArc((41.833373, -38.675694), (41.897159, -38.174619), (42.084449, -37.705506))
            Line((42.084449, -37.705506), (42.52143, -36.917776))
            ThreePointArc((42.52143, -36.917776), (43.333373, -36.439683), (44.145316, -36.917776))
            Line((44.145316, -36.917776), (44.582297, -37.705506))
            ThreePointArc((44.582297, -37.705506), (44.769587, -38.174619), (44.833373, -38.675694))
            Line((44.833373, -38.675694), (44.833373, -41.871988))
            ThreePointArc((44.833373, -41.871988), (47.405808, -45.658112), (44.833373, -49.444235))
        make_face(mode=Mode.SUBTRACT)
        with BuildLine():
            ThreePointArc((38.631113, -39.046663), (38.631113, -40.955851), (36.721925, -40.955851))
            Line((36.721925, -40.955851), (35.661264, -39.895191))
            ThreePointArc((35.661264, -39.895191), (35.661264, -37.986003), (37.570453, -37.986003))
            Line((37.570453, -37.986003), (38.631113, -39.046663))
        make_face(mode=Mode.SUBTRACT)
        with BuildLine():
            Line((50.90456, -39.895191), (49.8439, -40.955851))
            ThreePointArc((49.8439, -40.955851), (47.934712, -40.955851), (47.934712, -39.046663))
            Line((47.934712, -39.046663), (48.995372, -37.986003))
            ThreePointArc((48.995372, -37.986003), (50.90456, -37.986003), (50.90456, -39.895191))
        make_face(mode=Mode.SUBTRACT)
        with BuildLine():
            Line((113.379507, 46.067093), (89.653552, 46.067093))
            Line((89.653552, 46.067093), (89.653552, 17.641801))
            Line((89.653552, 17.641801), (115.379507, 17.641801))
            Line((115.379507, 17.641801), (115.379507, 44.067093))
            ThreePointArc((115.379507, 44.067093), (114.79372, 45.481306), (113.379507, 46.067093))
        make_face()
    extrude(amount=F1_DEPTH)


solid = f1.part
